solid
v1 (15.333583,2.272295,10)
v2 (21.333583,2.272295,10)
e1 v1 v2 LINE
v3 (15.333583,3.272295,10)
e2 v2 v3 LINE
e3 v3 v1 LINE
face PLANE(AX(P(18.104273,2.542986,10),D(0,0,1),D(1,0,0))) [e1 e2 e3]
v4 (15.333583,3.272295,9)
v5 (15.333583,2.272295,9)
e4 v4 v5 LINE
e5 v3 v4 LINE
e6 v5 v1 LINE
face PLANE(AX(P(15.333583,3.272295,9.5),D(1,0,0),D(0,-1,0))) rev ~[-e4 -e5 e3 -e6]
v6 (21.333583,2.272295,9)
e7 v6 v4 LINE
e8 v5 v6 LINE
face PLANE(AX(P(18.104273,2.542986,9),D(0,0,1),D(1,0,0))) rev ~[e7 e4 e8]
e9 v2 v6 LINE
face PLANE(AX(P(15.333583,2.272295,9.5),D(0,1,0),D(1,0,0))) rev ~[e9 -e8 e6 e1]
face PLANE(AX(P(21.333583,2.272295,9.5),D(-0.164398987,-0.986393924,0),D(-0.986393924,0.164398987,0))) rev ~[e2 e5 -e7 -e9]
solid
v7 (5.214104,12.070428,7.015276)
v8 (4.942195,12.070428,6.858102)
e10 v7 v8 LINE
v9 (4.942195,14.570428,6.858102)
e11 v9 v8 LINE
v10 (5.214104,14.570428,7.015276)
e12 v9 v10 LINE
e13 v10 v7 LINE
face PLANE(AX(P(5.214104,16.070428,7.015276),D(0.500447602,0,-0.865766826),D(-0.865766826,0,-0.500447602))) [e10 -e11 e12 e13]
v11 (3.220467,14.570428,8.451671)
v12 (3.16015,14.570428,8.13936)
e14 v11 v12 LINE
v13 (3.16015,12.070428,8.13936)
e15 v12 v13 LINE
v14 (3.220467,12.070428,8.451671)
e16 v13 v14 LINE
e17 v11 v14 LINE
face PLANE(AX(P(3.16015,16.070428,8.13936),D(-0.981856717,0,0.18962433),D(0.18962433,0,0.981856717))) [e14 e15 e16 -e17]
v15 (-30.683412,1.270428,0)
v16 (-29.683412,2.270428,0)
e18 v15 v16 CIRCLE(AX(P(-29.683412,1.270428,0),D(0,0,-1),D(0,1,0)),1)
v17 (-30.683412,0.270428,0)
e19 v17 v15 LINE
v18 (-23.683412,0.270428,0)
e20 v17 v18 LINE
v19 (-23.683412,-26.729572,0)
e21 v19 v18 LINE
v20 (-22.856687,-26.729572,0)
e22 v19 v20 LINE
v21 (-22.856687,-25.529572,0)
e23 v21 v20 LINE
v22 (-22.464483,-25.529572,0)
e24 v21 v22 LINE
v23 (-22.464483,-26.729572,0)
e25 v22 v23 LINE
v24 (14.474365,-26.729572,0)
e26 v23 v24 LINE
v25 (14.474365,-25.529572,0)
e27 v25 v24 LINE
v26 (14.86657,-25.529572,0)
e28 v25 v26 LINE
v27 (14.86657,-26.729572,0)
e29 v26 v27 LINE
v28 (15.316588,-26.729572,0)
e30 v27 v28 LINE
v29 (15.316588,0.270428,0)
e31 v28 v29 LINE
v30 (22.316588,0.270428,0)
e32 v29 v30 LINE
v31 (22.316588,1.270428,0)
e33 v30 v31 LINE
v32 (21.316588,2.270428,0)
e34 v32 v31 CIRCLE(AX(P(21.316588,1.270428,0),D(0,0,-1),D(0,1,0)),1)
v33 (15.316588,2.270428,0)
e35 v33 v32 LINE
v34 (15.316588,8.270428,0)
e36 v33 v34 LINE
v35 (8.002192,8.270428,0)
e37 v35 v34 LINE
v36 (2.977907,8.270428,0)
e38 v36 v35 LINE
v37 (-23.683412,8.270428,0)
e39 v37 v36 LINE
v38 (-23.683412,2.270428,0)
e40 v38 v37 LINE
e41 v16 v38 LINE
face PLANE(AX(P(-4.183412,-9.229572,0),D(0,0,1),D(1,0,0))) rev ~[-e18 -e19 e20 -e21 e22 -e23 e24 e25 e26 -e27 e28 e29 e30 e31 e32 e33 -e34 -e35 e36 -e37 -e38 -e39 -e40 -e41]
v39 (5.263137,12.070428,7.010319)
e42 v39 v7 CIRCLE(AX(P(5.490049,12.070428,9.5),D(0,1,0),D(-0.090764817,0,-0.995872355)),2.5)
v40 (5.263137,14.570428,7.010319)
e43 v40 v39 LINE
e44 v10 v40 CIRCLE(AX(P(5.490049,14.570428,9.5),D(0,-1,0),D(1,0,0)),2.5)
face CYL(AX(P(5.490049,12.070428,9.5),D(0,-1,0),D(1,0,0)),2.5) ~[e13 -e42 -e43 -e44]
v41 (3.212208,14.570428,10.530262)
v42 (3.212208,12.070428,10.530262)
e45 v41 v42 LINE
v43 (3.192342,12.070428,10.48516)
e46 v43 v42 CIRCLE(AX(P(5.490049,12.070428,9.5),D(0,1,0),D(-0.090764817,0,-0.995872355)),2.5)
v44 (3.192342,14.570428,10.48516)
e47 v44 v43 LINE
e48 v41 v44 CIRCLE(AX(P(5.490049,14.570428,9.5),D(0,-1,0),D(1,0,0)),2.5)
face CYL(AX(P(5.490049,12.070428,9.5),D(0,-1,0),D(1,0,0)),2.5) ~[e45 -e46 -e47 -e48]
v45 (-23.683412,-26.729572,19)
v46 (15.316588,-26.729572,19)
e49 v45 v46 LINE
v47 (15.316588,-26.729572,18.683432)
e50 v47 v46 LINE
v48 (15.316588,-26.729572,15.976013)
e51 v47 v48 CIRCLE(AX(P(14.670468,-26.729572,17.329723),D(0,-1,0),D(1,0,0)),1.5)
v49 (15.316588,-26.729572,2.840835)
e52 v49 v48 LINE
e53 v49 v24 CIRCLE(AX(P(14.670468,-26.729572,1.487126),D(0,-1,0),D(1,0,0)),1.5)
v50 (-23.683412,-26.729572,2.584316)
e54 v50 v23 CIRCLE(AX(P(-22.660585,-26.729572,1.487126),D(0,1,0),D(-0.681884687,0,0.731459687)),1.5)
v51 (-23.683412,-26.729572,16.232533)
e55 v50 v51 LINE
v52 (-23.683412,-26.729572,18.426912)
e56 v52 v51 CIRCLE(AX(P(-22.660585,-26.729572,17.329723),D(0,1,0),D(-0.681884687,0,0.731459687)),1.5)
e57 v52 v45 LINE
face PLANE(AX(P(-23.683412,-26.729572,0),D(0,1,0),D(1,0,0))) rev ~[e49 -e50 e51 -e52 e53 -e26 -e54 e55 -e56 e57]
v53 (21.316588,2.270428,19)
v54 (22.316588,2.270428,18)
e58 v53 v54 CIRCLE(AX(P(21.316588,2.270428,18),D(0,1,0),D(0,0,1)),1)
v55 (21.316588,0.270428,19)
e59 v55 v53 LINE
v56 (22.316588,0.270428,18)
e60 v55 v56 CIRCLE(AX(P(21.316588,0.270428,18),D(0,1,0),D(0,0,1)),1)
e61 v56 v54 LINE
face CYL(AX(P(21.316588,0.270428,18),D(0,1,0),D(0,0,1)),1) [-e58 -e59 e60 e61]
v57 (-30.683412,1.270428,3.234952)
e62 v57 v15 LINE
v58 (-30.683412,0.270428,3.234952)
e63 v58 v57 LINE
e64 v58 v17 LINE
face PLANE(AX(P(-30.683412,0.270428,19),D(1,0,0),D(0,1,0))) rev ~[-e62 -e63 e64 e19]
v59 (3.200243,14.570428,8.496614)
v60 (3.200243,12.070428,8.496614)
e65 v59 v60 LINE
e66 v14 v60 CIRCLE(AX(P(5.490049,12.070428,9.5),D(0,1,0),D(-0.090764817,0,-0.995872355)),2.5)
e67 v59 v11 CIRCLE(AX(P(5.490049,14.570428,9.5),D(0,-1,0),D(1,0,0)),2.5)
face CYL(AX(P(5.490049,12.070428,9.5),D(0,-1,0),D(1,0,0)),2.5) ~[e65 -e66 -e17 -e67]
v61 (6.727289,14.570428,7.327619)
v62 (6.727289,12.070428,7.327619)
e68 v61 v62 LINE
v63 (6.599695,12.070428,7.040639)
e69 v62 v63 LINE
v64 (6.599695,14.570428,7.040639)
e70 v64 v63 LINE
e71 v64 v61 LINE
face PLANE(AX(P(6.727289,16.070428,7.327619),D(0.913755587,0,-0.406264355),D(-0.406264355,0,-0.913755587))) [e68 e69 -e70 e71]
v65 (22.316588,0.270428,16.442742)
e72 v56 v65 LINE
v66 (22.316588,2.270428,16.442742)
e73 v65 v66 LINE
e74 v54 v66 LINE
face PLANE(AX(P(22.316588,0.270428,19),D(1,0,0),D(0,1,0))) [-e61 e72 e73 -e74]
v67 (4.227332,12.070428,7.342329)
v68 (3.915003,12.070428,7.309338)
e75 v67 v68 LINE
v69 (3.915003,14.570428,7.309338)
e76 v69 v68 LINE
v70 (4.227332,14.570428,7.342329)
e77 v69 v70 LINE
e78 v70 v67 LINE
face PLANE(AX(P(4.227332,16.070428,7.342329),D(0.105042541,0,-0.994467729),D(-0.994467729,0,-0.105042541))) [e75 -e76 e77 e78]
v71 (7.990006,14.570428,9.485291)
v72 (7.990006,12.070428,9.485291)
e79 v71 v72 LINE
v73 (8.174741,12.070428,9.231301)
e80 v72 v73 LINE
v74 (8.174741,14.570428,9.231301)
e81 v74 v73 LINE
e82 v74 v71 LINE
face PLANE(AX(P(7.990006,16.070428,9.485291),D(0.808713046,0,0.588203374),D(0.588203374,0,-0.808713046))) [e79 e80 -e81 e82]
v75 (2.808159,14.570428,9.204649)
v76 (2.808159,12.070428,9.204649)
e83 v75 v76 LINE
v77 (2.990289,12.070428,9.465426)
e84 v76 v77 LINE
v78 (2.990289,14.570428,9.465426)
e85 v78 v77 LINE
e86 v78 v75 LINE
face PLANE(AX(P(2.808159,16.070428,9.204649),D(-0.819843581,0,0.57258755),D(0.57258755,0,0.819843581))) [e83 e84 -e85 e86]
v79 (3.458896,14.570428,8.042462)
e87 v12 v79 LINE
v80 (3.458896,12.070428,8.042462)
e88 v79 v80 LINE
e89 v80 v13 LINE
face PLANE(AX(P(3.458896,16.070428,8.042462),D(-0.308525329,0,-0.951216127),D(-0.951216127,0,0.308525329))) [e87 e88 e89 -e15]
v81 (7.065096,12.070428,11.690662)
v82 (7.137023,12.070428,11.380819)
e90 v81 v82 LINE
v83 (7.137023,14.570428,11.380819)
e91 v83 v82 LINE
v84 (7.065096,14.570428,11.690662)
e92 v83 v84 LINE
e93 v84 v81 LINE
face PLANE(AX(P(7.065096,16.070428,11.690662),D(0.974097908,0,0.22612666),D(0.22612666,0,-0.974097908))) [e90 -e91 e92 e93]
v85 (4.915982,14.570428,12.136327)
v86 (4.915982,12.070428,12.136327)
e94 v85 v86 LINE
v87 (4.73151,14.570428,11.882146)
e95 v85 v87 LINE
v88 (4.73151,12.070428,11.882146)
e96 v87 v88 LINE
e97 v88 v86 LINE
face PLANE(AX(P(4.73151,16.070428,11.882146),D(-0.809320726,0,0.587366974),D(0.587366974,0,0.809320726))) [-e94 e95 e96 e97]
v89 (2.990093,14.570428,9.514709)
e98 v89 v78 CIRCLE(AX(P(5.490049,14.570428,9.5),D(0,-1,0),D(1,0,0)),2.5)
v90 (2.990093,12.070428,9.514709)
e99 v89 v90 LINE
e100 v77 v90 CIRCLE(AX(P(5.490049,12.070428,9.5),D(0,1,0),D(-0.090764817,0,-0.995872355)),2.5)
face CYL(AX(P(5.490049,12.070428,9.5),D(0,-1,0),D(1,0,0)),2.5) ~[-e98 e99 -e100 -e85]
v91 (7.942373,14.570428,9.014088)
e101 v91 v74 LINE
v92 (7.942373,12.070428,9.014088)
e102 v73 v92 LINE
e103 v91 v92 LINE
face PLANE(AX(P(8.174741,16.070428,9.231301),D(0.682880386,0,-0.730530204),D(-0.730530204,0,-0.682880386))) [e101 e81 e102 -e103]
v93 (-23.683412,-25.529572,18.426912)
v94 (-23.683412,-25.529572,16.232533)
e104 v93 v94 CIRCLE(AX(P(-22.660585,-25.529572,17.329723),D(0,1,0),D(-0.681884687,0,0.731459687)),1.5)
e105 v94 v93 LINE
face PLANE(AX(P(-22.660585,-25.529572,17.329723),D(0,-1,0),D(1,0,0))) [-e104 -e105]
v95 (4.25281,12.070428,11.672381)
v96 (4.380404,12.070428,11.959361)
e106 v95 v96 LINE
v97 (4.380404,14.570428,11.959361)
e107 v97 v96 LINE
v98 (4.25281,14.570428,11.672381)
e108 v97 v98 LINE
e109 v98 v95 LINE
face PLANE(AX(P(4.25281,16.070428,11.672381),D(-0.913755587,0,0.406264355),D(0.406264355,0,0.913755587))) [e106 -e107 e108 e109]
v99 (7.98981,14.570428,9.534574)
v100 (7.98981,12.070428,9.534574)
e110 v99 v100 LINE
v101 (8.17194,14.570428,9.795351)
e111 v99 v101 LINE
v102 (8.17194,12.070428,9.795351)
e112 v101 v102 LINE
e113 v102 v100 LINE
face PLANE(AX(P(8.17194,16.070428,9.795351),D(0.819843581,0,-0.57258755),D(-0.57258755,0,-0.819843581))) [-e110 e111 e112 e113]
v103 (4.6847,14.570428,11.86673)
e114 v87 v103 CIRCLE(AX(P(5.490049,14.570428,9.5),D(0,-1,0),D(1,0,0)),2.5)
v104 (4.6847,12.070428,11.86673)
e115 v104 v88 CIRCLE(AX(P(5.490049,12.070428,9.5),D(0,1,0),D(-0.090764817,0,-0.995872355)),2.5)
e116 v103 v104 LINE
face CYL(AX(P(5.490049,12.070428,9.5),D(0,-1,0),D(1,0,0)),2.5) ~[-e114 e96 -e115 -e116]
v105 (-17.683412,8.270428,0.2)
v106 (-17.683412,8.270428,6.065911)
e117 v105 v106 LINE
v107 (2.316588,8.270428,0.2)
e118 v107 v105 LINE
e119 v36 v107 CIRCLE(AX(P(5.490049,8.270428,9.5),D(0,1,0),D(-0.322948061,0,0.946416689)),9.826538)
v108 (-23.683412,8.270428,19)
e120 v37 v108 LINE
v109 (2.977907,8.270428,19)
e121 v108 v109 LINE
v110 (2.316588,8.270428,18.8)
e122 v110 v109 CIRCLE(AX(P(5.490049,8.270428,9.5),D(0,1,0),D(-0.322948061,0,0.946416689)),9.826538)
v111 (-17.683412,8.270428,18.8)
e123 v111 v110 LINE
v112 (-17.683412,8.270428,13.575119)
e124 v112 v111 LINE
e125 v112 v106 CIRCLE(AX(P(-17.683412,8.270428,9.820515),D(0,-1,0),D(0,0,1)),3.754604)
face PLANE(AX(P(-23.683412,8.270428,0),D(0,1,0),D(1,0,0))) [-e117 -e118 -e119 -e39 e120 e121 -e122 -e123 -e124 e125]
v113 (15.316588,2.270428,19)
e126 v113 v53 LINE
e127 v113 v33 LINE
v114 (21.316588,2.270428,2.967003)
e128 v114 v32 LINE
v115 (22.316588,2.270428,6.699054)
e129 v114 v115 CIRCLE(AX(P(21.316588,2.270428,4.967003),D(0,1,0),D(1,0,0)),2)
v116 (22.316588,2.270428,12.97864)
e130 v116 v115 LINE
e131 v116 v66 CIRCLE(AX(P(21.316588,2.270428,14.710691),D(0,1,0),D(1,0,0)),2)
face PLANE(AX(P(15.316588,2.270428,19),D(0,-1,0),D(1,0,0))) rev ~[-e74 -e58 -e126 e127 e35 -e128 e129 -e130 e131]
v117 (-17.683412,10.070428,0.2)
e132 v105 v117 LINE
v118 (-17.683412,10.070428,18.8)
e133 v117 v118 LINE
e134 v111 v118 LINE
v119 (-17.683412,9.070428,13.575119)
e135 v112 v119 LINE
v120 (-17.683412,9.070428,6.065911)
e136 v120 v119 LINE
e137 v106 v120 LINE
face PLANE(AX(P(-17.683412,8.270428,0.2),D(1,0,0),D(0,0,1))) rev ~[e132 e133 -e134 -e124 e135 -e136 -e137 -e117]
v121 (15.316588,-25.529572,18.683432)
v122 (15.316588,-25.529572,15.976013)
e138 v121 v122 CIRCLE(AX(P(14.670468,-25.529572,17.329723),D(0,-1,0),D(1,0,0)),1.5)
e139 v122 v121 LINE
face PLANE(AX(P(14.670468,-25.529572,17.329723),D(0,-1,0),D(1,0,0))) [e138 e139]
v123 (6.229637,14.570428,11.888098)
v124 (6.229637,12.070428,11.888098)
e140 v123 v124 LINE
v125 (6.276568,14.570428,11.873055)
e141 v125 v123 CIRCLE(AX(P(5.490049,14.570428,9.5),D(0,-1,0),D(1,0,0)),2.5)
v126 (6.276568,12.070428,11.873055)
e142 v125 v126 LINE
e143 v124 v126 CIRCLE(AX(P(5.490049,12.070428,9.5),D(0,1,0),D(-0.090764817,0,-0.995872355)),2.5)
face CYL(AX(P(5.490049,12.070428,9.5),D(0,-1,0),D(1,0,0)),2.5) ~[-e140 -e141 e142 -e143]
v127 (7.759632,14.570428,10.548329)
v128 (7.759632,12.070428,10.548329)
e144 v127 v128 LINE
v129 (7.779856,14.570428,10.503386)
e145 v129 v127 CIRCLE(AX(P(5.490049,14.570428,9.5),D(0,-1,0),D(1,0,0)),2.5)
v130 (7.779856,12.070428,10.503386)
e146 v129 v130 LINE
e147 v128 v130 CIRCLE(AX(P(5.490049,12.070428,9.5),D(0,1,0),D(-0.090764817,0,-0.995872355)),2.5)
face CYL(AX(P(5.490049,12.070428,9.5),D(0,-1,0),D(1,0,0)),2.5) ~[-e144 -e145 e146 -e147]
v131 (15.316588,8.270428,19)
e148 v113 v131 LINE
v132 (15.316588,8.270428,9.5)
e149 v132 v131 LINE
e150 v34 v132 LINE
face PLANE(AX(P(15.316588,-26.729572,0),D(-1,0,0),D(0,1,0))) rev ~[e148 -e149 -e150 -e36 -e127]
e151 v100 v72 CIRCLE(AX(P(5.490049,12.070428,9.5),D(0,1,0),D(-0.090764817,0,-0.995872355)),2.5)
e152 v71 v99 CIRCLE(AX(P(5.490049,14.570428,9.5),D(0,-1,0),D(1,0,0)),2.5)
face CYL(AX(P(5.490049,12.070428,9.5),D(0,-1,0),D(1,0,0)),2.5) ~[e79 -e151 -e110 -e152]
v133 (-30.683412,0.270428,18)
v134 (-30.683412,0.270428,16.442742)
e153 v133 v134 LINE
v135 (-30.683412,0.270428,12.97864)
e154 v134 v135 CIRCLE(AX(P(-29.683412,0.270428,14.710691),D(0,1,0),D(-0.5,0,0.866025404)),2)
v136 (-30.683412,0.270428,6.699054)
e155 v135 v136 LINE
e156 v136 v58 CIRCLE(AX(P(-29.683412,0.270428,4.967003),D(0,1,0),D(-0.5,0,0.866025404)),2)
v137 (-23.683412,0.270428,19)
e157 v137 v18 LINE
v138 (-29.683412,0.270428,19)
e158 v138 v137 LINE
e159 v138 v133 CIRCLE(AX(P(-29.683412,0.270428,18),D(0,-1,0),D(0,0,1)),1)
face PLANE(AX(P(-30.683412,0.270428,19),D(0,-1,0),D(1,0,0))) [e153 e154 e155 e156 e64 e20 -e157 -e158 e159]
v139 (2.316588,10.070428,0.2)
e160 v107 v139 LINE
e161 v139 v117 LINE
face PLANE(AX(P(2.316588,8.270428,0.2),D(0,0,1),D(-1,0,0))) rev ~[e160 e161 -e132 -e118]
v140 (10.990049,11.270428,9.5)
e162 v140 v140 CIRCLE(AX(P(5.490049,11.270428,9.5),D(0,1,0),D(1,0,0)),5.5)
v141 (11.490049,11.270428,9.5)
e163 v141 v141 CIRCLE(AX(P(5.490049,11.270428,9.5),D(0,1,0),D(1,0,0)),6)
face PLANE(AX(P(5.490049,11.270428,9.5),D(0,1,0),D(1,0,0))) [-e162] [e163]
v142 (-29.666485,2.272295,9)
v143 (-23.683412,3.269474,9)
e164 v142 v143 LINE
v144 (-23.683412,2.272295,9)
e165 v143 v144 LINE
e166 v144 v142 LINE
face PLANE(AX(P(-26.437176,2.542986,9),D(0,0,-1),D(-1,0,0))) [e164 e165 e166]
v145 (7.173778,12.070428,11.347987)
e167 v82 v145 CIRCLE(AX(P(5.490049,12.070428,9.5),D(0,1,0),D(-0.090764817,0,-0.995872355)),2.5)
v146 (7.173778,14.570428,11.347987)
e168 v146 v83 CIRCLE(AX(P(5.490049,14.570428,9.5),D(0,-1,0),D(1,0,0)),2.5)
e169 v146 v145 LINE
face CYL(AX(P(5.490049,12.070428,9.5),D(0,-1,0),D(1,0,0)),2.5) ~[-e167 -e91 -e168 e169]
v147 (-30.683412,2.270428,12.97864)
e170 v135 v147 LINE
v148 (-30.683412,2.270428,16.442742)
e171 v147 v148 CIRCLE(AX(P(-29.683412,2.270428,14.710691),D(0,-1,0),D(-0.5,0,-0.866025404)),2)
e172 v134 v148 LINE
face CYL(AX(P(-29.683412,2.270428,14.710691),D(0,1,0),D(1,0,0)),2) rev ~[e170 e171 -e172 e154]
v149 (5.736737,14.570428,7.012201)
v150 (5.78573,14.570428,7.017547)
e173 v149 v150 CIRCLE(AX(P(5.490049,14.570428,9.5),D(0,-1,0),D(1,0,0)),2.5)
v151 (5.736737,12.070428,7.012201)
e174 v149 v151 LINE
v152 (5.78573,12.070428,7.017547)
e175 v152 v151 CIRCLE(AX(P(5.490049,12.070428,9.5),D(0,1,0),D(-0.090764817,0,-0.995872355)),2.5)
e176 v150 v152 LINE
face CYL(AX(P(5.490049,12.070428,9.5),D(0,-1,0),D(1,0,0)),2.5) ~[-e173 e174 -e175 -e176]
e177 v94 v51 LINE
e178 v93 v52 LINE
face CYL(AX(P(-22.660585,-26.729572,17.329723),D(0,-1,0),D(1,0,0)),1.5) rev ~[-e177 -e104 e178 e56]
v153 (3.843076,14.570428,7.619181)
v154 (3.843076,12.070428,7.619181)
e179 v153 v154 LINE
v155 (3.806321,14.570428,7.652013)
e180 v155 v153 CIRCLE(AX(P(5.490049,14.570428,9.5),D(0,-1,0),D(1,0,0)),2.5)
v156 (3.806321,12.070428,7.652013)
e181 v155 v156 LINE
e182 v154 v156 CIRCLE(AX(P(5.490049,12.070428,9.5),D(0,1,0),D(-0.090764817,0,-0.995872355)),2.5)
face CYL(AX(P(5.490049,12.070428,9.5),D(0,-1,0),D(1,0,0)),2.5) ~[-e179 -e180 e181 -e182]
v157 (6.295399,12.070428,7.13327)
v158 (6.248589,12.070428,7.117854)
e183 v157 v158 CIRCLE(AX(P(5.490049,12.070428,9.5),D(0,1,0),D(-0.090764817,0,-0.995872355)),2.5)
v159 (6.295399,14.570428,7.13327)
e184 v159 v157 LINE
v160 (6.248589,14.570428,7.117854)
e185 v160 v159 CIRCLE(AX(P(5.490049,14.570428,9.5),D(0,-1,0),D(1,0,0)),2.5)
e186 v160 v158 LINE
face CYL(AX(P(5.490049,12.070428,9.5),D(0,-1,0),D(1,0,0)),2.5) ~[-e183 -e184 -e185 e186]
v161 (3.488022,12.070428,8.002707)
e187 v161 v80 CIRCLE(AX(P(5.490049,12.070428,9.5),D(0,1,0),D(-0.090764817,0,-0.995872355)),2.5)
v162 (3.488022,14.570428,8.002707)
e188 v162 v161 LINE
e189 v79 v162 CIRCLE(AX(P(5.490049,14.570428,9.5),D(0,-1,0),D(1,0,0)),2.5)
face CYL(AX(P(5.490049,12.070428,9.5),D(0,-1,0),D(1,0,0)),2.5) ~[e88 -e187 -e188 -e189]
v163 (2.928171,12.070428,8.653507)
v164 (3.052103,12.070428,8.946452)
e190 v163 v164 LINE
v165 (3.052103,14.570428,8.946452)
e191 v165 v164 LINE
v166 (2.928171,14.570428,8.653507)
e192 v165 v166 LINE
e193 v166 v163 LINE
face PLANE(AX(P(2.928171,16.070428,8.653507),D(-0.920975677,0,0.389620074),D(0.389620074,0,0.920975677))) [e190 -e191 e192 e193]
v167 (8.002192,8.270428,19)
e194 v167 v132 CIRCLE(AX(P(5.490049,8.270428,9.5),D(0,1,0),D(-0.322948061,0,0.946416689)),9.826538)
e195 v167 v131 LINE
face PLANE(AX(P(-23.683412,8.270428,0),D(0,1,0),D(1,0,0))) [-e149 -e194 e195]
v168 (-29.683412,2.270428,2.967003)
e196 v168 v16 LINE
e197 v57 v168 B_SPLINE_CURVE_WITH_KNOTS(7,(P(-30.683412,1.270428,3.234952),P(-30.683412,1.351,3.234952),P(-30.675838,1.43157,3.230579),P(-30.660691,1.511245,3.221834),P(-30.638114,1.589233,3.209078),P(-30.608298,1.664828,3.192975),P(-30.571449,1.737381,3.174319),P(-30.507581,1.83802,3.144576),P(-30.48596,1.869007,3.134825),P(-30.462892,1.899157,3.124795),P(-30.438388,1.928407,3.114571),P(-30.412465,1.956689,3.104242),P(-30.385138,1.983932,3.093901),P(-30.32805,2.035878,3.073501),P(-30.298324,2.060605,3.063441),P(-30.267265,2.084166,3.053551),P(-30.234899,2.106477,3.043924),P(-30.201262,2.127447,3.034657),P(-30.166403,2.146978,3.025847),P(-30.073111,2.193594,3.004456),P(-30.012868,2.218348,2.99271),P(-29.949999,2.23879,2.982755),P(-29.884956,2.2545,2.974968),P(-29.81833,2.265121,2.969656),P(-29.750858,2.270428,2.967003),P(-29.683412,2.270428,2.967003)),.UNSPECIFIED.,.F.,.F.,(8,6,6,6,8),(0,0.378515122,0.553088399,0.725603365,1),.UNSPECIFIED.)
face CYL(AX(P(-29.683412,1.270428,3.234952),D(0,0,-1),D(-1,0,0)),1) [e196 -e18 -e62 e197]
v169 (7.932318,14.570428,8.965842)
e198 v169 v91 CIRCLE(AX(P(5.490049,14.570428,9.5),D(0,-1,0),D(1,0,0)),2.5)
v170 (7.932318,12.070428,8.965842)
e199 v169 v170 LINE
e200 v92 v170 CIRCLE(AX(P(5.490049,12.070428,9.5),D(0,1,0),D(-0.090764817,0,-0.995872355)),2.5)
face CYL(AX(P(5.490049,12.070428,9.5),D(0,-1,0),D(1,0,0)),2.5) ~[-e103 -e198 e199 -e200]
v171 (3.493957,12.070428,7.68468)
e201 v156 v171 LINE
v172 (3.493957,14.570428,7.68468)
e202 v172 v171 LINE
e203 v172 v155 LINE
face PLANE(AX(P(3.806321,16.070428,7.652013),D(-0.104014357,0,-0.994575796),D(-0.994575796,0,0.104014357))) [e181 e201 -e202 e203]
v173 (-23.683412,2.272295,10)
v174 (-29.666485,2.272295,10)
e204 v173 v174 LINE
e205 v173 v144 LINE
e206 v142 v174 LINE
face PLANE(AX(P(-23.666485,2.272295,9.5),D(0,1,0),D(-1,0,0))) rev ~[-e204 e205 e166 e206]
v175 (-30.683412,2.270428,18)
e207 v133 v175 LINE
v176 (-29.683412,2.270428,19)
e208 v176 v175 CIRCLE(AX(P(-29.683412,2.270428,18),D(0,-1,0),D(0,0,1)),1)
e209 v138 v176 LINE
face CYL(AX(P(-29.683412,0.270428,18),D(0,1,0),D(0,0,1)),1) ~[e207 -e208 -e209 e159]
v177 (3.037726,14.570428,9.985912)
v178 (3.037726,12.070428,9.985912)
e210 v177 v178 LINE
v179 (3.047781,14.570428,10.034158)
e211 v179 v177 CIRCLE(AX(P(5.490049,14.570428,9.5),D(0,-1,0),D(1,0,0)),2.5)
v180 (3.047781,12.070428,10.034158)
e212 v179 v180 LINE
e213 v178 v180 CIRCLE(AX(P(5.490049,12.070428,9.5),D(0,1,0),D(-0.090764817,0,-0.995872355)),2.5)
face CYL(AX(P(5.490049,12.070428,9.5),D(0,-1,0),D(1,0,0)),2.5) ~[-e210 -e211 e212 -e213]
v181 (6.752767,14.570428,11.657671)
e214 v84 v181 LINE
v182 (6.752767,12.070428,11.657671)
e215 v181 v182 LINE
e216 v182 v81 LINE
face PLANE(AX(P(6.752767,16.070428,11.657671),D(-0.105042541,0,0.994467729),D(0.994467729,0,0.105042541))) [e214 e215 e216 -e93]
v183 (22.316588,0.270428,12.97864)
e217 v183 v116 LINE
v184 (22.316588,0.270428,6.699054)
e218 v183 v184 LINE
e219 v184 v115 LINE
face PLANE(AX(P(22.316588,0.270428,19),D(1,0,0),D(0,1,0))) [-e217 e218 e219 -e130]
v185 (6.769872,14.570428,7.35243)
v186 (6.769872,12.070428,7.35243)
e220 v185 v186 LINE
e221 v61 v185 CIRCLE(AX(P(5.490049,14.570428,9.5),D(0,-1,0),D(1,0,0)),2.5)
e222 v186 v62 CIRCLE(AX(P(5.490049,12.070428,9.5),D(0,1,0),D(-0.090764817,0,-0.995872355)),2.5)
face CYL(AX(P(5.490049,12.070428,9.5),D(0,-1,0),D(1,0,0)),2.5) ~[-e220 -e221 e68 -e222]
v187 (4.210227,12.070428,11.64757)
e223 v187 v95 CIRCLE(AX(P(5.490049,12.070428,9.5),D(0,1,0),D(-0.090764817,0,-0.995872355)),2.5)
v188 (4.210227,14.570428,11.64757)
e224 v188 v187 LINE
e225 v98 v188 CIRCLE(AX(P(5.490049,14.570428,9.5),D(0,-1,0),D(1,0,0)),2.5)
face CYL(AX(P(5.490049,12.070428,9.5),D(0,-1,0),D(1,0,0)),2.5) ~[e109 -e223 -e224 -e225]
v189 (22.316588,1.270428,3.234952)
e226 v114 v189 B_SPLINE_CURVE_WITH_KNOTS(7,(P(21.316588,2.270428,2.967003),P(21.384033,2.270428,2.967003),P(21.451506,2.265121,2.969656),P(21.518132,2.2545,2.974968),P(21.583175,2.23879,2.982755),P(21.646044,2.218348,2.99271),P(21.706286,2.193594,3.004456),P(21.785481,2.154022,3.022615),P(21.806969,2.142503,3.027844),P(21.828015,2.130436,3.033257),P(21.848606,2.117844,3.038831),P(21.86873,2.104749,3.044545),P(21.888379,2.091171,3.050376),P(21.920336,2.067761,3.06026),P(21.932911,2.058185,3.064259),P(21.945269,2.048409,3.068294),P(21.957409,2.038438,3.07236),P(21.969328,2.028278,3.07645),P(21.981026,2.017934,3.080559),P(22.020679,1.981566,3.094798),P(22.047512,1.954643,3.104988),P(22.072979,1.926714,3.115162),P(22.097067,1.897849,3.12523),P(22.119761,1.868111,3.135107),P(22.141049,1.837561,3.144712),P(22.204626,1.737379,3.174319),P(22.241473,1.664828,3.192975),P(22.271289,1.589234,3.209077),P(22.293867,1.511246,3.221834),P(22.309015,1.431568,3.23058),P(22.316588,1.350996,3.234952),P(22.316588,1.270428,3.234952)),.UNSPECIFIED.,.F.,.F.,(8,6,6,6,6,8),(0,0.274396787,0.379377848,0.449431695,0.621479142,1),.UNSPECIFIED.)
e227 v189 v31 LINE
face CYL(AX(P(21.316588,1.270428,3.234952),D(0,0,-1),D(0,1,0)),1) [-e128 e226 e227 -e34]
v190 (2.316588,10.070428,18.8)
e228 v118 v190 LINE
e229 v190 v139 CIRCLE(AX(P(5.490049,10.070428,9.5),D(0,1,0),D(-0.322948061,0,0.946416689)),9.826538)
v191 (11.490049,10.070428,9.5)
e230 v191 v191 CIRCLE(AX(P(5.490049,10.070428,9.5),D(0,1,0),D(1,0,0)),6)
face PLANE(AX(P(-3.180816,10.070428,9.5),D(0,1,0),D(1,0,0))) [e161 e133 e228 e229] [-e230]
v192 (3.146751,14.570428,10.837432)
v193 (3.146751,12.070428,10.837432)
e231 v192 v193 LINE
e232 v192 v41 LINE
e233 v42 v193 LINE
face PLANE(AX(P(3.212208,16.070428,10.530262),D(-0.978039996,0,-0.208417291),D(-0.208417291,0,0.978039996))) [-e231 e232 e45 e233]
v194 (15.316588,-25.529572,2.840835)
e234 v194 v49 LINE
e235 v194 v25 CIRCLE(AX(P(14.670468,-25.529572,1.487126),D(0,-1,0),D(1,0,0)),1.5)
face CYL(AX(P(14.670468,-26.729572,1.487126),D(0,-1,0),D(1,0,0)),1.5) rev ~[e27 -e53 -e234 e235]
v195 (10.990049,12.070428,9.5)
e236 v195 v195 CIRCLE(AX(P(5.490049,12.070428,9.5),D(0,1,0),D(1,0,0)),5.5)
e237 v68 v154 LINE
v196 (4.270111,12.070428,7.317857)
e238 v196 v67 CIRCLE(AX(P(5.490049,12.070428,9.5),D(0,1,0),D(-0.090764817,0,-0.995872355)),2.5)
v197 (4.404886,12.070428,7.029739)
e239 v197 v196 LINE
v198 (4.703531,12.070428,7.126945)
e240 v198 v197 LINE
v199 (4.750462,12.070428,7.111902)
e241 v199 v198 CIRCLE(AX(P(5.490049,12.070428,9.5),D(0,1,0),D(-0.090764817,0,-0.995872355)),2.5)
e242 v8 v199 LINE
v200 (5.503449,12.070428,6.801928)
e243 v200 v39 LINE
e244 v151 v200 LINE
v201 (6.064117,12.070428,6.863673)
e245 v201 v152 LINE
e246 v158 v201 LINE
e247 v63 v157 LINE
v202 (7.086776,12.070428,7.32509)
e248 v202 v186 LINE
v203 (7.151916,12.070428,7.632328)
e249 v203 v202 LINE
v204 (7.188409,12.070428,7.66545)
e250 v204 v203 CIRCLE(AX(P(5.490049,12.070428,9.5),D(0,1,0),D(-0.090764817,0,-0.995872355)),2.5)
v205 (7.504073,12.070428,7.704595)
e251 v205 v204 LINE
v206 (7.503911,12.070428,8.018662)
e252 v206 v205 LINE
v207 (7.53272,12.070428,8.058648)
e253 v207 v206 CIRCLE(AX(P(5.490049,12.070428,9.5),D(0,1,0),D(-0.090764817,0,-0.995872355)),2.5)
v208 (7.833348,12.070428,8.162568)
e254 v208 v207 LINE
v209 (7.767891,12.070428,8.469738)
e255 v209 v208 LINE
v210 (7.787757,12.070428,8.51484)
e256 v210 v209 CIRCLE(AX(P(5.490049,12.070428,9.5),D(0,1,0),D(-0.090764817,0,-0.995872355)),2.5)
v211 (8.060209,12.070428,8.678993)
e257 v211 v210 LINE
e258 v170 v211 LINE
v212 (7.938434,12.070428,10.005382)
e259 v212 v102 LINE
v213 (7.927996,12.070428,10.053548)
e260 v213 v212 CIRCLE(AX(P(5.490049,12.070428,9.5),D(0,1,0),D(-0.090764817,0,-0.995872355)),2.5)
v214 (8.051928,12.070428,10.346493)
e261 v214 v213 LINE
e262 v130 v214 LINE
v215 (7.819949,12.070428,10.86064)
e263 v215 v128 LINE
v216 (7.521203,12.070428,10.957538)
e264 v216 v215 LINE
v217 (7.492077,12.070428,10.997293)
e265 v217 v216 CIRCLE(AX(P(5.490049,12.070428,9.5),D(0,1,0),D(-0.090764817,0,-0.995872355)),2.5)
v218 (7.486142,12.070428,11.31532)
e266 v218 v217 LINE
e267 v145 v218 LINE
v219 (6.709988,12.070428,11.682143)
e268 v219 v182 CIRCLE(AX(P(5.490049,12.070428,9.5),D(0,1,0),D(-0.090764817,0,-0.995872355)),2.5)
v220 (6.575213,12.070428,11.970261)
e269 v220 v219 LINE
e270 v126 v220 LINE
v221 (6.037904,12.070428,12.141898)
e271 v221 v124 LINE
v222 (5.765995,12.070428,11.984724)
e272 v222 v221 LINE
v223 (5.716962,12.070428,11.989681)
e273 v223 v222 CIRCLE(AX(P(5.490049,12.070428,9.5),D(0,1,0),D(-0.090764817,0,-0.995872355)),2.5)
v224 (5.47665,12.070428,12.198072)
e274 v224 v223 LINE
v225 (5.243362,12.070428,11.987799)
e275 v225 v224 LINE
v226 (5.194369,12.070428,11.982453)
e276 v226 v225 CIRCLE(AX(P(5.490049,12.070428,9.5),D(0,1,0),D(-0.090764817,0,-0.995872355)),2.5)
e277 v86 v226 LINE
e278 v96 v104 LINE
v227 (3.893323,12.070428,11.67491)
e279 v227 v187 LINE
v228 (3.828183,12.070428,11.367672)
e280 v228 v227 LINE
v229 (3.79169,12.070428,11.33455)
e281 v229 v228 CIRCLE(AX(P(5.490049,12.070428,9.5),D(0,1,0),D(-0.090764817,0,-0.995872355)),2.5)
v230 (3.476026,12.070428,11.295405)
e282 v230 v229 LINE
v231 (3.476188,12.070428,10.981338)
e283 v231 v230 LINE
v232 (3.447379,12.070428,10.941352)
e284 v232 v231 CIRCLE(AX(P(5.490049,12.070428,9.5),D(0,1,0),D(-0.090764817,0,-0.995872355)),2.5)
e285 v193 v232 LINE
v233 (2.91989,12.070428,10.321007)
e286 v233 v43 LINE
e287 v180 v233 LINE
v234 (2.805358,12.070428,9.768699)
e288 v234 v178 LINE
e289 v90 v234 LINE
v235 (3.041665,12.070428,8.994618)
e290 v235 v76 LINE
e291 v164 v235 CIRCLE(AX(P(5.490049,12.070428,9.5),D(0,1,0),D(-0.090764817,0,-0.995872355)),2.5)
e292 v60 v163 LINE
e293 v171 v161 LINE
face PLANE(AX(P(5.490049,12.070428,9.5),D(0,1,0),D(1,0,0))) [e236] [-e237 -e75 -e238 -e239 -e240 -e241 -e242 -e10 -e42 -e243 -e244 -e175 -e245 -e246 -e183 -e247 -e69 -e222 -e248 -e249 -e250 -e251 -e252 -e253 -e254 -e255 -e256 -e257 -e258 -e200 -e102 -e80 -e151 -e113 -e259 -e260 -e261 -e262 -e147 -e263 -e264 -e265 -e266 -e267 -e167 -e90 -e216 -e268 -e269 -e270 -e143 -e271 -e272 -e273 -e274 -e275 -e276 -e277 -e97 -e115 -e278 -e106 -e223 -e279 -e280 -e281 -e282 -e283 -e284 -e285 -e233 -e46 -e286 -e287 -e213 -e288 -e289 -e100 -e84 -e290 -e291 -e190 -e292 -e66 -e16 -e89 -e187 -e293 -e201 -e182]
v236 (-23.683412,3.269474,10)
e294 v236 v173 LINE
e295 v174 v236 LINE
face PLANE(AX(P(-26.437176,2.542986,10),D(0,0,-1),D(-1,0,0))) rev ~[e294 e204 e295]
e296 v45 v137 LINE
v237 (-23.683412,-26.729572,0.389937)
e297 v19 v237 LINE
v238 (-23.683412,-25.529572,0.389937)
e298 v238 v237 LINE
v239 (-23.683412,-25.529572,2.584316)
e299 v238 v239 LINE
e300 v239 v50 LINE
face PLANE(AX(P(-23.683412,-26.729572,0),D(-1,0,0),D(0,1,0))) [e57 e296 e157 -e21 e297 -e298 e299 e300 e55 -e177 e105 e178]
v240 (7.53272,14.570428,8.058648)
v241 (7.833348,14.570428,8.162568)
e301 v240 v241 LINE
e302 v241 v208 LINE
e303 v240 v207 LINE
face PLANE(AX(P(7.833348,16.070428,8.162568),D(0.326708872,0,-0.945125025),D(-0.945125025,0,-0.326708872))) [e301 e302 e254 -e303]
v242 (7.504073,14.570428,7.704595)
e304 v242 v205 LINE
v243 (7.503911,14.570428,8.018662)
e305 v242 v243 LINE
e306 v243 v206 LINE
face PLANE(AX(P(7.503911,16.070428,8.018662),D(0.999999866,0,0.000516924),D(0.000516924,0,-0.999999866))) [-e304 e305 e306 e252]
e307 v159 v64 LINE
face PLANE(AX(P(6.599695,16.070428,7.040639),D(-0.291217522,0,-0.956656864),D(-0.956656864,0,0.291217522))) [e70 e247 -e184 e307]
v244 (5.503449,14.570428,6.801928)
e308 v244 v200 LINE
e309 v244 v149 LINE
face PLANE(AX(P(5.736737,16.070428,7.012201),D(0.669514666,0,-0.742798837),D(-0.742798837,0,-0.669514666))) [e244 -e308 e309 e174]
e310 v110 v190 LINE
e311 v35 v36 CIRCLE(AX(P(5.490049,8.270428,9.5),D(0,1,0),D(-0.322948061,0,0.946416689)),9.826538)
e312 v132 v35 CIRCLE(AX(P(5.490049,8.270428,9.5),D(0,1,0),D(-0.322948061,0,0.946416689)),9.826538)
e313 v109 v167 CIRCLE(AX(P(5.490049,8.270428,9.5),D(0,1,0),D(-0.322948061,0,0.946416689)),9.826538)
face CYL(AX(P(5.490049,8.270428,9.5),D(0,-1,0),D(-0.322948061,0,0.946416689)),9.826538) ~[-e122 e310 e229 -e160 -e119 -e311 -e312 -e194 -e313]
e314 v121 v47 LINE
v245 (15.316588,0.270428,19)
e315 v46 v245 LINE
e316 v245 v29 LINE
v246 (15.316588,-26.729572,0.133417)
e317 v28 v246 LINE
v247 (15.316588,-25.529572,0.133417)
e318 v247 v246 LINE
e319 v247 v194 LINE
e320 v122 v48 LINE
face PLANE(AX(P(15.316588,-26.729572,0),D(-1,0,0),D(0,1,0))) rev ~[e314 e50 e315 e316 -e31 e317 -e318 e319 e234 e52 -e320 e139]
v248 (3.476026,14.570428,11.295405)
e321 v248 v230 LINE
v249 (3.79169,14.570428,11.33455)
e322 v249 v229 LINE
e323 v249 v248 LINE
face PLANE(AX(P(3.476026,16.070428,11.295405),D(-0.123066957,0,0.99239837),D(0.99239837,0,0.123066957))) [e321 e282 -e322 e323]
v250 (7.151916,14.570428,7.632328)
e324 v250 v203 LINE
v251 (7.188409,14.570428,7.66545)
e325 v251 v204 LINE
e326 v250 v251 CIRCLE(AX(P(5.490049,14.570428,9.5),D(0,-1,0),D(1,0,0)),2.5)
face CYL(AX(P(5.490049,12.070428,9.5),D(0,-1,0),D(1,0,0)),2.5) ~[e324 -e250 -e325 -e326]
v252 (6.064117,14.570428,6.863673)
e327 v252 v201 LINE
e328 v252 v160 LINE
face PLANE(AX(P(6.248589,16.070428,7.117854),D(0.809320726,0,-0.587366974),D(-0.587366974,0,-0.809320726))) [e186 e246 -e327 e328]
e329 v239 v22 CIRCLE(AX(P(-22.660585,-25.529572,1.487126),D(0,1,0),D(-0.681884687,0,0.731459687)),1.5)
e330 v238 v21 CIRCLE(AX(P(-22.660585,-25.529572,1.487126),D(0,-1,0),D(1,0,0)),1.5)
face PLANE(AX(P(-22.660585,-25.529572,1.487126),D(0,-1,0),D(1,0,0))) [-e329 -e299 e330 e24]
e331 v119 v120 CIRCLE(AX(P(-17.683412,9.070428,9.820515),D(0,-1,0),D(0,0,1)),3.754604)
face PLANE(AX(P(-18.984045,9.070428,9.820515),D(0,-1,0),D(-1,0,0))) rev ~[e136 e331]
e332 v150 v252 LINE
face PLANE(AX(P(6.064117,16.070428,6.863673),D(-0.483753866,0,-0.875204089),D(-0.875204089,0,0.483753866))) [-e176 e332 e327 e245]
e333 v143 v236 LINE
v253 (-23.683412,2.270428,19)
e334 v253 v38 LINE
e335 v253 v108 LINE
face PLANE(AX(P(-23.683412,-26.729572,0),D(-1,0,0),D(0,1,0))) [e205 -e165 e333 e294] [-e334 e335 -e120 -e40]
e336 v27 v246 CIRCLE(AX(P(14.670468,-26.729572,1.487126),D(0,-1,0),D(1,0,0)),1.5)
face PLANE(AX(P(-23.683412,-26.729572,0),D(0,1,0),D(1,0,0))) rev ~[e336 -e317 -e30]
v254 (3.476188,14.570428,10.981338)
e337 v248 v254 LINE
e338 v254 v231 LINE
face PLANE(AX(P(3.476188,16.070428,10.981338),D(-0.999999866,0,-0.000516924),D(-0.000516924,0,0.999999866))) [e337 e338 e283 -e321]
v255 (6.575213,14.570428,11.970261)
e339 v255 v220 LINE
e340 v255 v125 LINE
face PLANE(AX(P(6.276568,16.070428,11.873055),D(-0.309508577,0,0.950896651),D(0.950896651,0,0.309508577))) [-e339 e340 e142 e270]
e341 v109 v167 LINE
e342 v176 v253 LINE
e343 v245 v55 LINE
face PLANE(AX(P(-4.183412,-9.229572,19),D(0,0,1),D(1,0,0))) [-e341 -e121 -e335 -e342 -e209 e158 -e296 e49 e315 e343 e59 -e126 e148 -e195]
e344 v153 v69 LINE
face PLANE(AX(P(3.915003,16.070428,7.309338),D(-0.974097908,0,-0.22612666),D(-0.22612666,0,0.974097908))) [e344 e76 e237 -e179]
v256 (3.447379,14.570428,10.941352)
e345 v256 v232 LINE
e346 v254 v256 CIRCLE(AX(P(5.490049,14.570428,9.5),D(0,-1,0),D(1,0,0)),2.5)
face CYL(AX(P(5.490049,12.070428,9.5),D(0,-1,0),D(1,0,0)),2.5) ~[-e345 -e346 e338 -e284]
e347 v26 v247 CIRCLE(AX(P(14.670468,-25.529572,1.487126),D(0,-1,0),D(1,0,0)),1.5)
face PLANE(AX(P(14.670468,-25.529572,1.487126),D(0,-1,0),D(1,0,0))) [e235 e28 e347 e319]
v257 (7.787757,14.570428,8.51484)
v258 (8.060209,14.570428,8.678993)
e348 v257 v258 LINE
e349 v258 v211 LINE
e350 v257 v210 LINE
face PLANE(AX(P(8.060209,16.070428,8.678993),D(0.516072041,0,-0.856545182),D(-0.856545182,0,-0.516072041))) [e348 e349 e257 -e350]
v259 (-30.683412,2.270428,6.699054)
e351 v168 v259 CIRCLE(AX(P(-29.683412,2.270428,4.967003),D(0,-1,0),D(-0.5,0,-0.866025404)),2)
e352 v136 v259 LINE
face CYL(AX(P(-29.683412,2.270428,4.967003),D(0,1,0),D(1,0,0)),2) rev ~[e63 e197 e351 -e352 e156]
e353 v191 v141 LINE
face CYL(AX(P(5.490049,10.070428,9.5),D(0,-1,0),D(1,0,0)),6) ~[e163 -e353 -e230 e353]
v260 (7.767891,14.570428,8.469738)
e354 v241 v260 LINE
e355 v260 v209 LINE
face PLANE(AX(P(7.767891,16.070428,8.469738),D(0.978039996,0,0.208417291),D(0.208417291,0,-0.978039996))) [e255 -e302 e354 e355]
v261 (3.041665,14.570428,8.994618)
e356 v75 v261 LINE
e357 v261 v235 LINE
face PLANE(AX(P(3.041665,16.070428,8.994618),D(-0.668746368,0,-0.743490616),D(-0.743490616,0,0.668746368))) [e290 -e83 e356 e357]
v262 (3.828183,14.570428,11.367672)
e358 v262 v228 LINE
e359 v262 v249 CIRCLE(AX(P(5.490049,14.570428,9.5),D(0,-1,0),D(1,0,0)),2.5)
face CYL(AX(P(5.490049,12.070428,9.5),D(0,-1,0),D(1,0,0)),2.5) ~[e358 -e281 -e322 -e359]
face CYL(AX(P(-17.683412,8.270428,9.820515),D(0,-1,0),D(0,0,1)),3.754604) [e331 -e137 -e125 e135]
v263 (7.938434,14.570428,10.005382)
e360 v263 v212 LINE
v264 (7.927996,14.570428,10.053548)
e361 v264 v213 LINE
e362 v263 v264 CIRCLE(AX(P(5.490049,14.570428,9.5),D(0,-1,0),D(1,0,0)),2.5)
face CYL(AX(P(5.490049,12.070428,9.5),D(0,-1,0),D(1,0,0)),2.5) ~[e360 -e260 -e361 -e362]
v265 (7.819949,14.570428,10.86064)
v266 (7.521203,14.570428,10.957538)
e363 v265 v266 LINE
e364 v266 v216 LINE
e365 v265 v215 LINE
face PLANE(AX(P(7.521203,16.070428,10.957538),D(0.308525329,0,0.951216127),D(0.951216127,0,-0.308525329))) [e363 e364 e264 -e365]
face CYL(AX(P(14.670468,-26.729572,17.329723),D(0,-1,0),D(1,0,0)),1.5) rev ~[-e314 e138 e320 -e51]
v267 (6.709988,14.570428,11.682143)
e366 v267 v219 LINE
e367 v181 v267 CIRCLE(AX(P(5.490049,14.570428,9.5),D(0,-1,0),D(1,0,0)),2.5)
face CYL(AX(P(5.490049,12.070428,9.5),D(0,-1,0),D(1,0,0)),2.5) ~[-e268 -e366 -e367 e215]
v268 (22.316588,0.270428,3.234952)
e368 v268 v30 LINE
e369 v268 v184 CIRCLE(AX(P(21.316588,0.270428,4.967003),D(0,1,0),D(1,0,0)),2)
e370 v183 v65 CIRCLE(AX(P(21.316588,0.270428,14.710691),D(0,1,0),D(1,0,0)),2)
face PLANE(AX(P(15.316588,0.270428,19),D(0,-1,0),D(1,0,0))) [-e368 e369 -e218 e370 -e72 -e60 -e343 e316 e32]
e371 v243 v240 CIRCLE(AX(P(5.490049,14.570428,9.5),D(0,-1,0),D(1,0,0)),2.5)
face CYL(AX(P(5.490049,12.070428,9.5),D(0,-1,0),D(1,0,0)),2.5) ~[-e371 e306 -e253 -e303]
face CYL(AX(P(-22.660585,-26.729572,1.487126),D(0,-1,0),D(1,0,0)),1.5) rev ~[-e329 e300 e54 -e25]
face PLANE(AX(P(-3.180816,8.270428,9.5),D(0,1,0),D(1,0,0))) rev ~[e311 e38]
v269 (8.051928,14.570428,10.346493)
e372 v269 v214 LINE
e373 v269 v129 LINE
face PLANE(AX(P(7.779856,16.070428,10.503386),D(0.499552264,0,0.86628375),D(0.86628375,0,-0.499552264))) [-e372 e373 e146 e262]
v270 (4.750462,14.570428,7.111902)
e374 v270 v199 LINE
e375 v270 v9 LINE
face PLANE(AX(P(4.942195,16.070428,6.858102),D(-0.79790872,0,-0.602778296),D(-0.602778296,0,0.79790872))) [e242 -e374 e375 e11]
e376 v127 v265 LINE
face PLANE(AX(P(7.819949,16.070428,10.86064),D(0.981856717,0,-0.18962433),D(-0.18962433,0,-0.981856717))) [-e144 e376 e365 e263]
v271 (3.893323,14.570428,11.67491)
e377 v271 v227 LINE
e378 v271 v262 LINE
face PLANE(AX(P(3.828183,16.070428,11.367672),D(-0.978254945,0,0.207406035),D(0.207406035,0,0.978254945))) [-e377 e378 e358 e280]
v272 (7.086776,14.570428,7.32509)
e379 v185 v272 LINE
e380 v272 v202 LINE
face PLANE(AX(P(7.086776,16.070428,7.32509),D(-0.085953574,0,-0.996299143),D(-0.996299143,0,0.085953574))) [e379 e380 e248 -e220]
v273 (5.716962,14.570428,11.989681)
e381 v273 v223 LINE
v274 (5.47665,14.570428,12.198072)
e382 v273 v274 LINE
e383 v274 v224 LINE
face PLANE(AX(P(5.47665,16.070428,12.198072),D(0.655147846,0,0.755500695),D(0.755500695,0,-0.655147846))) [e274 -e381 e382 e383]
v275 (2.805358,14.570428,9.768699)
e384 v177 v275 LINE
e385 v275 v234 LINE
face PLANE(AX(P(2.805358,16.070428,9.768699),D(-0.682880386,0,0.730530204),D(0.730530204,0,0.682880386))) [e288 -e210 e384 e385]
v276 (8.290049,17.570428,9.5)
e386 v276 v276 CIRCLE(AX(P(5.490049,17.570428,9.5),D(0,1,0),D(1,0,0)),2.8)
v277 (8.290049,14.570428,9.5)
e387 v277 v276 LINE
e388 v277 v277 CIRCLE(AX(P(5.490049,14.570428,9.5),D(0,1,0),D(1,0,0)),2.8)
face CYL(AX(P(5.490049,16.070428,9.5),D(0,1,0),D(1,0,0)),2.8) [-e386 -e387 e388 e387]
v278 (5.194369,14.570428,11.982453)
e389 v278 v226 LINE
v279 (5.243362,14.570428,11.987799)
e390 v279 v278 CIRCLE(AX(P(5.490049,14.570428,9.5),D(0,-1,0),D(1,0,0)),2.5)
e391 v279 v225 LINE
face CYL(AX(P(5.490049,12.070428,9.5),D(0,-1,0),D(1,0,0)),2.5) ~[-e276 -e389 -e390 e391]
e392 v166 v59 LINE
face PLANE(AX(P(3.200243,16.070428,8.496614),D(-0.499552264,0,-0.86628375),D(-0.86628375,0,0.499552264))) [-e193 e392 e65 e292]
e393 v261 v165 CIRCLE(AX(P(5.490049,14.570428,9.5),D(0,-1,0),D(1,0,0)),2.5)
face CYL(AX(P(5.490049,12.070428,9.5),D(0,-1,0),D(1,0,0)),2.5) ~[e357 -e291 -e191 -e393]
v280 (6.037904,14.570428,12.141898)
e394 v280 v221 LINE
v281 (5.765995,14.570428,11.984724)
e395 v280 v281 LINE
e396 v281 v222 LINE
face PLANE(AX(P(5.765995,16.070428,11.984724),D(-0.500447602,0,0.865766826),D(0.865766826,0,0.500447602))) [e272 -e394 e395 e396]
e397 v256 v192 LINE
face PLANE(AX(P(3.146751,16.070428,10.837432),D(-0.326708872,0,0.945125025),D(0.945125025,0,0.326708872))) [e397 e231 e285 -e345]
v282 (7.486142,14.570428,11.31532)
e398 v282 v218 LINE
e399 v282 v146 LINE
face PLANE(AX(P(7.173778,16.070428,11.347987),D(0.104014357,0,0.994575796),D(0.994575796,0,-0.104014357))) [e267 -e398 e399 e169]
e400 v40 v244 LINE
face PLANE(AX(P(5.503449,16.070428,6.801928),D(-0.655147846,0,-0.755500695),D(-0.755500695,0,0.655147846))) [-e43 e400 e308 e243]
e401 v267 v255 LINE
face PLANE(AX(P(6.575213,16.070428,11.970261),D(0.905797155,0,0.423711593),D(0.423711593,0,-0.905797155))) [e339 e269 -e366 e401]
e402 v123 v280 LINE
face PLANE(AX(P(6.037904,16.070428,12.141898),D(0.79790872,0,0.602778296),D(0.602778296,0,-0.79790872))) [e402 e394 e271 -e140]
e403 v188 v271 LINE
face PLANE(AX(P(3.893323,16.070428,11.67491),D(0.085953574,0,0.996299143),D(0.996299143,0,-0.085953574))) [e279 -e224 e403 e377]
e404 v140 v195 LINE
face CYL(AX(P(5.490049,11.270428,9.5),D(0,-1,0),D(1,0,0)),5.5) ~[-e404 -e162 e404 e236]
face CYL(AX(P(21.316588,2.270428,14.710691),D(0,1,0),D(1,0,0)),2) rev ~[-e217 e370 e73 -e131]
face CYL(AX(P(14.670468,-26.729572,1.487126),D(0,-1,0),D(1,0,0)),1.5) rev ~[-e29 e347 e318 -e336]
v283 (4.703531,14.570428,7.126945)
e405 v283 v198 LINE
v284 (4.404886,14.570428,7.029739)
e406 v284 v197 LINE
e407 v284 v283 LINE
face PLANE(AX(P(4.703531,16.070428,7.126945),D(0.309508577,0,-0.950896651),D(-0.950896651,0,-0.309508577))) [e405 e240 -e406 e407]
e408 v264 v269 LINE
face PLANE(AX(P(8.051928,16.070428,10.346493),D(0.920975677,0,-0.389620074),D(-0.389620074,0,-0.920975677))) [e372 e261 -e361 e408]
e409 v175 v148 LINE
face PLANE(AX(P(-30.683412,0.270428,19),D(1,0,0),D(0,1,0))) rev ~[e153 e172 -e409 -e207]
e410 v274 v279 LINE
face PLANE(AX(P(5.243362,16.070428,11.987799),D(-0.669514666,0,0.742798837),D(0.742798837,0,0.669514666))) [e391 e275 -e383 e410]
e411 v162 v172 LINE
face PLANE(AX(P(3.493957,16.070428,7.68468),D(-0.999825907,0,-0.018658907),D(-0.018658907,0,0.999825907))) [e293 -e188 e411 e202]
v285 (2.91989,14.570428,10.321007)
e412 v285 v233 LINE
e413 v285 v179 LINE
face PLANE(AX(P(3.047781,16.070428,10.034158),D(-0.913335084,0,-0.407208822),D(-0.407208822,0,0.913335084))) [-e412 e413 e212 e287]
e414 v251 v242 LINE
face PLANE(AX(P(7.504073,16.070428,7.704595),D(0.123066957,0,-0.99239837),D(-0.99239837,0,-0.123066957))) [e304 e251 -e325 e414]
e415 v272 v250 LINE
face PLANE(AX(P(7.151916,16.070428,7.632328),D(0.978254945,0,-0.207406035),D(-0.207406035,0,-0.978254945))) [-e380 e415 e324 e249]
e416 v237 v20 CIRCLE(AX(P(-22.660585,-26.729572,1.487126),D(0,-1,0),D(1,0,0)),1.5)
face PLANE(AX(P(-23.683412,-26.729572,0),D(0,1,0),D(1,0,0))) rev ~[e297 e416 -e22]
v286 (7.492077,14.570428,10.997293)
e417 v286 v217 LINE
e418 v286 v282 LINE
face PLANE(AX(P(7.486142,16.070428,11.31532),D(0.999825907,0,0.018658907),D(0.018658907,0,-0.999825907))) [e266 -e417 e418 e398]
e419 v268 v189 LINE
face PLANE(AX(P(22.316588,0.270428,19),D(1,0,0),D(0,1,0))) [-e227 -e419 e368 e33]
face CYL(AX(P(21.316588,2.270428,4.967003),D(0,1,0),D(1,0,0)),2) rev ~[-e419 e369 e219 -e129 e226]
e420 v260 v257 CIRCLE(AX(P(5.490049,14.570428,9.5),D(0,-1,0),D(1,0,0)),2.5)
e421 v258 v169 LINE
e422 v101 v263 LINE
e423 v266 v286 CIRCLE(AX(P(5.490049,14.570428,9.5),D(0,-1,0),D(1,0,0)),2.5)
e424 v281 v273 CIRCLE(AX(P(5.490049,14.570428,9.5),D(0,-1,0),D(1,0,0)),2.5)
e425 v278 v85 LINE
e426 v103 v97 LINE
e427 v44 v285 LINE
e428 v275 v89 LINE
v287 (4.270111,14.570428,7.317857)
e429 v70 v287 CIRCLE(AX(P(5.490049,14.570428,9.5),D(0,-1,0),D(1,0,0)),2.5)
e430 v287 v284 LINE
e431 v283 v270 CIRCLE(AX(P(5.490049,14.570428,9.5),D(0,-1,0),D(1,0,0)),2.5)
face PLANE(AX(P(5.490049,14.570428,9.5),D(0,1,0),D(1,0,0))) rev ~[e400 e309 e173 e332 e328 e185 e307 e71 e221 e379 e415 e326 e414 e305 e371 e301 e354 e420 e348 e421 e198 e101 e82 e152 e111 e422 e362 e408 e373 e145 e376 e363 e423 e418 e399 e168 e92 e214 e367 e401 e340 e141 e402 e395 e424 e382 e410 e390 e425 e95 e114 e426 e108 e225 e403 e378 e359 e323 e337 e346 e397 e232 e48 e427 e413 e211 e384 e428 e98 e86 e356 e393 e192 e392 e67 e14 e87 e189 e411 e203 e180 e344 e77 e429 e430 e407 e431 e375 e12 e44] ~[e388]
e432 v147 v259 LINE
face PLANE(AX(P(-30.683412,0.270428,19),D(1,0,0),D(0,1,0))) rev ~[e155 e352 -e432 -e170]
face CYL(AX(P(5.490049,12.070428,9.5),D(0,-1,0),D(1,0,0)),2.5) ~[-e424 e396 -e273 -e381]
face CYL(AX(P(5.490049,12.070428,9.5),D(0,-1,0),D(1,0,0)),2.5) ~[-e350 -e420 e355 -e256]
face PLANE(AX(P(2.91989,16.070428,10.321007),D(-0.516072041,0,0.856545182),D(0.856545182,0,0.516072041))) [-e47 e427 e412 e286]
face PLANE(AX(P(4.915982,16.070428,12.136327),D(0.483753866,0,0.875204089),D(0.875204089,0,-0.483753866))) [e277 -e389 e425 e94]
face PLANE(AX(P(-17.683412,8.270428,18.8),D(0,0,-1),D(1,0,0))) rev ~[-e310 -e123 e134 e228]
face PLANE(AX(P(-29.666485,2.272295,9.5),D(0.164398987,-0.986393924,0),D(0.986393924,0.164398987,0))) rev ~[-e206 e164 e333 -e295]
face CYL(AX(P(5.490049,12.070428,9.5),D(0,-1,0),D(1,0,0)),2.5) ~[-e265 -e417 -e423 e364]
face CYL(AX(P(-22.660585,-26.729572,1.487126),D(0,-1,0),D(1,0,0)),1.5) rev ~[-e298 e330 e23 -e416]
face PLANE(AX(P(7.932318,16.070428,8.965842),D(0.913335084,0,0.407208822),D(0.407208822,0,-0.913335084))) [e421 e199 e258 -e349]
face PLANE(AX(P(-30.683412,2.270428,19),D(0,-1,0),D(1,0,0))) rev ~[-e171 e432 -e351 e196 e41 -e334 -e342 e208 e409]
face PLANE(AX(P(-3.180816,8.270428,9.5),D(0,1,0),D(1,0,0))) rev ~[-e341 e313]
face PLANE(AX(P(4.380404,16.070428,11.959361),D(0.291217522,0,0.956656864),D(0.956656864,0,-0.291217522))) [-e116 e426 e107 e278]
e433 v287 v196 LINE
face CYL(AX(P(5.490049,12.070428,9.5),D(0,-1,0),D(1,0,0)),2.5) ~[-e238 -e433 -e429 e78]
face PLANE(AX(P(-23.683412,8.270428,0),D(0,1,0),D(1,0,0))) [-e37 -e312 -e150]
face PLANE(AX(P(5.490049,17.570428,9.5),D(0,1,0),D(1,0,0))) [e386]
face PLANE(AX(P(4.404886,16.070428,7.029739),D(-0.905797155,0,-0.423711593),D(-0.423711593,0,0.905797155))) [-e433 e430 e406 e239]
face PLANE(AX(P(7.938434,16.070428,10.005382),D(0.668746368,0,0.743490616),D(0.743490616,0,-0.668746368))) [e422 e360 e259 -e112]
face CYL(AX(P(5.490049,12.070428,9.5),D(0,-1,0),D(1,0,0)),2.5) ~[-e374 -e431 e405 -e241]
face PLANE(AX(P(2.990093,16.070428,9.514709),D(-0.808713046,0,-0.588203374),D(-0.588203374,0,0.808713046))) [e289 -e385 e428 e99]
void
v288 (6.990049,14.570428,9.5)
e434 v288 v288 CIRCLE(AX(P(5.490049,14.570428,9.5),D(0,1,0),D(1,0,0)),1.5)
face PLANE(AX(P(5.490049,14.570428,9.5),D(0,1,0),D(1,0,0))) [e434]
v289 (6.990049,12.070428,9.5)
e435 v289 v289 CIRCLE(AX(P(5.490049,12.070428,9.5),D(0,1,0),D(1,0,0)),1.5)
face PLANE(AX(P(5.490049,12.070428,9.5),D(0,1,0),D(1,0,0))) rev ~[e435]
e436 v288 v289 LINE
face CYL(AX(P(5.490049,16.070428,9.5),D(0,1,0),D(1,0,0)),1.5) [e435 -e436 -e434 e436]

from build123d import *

# Parameters (mm, degrees)
SKETCH1_W            = 39
SKETCH1_H            = 35
BOSS_EXTRUDE1_DEPTH  = 19
SKETCH2_W            = 7
SKETCH2_H            = 2
BOSS_EXTRUDE2_DEPTH  = 19
BOSS_EXTRUDE3_DEPTH  = 0.5
SKETCH4_R            = 2
CUT_EXTRUDE1_DEPTH   = 3
FILLET1_R            = 1
BOSS_EXTRUDE4_DEPTH  = 1.8
SKETCH6_R            = 1.5
CUT_EXTRUDE2_DEPTH   = 1.2
SKETCH7_R            = 6
BOSS_EXTRUDE5_DEPTH  = 1.2
SKETCH8_R            = 5.5
BOSS_EXTRUDE6_DEPTH  = 0.8
BOSS_EXTRUDE7_DEPTH  = 0.8
SKETCH10_R           = 2.5
BOSS_EXTRUDE8_DEPTH  = 4
BOSS_EXTRUDE9_DEPTH  = 4
CIRPATTERN2_COUNT    = 30
SKETCH12_R           = 1.5
CUT_EXTRUDE4_DEPTH   = 4
SKETCH13_R           = 2.8
BOSS_EXTRUDE10_DEPTH = 1.5


with BuildPart() as part:
    # Sketch1 → Boss-Extrude1 (new body)
    with BuildSketch(Plane.XY):
        with Locations((-4.183412042, -9.229571984)):
            Rectangle(SKETCH1_W, SKETCH1_H)
    extrude(amount=BOSS_EXTRUDE1_DEPTH)

    # Sketch2 → Boss-Extrude2 (add)
    with BuildSketch(Plane.XY.offset(19)):
        with Locations((18.816587958, 1.270428016)):
            Rectangle(SKETCH2_W, SKETCH2_H)
        with Locations((-27.183412042, 1.270428016)):
            Rectangle(SKETCH2_W, SKETCH2_H)
    extrude(amount=-BOSS_EXTRUDE2_DEPTH)

    # Sketch3 → Boss-Extrude3 (add, symmetric)
    with BuildSketch(Plane.XY.offset(9.5)):
        Polygon((15.333582704, 3.272295291), (15.333582704, 2.272295291), (21.333582704, 2.272295291), align=None)
        Polygon((-29.666485395, 2.272295291), (-23.666485395, 3.272295291), (-23.666485395, 2.272295291), align=None)
    extrude(amount=BOSS_EXTRUDE3_DEPTH, both=True)

    # Sketch4 → Cut-Extrude1 (cut)
    with BuildSketch(Plane(origin=(0, 2.270428016, 0), x_dir=(1, 0, 0), z_dir=(0, 1, 0))):
        with Locations((21.316587958, -14.710690781)):
            Circle(SKETCH4_R)
        with Locations((21.316587958, -4.967002747)):
            Circle(SKETCH4_R)
        with Locations((-29.683412042, -14.710690781)):
            Circle(SKETCH4_R)
        with Locations((-29.683412042, -4.967002747)):
            Circle(SKETCH4_R)
    extrude(amount=-CUT_EXTRUDE1_DEPTH, mode=Mode.SUBTRACT)

    # Fillet1
    fillet1_edges = [part.edges().sort_by_distance(p)[0] for p in [
        (-30.683412042, 1.270428016, 19),
        (-30.683412042, 2.270428016, 1.61747597),
        (22.316587958, 2.270428016, 1.61747597),
        (22.316587958, 1.270428016, 19),
    ]]
    fillet(fillet1_edges, radius=FILLET1_R)

    # Sketch5 → Boss-Extrude4 (add)
    with BuildSketch(Plane(origin=(0, 8.270428016, 0), x_dir=(1, 0, 0), z_dir=(0, 1, 0))):
        with BuildLine():
            Line((-17.683412042, -0.2), (-17.683412042, -18.8))
            Line((-17.683412042, -18.8), (2.316587958, -18.8))
            ThreePointArc((2.316587958, -18.8), (15.316587958, -9.5), (2.316587958, -0.2))
            Line((2.316587958, -0.2), (-17.683412042, -0.2))
        make_face()
    extrude(amount=BOSS_EXTRUDE4_DEPTH)

    # Sketch6 → Cut-Extrude2 (cut)
    with BuildSketch(Plane.XZ.offset(26.729571984)):
        with Locations((-22.660585011, 17.329722527)):
            Circle(SKETCH6_R)
        with Locations((-22.660585011, 1.487126069)):
            Circle(SKETCH6_R)
        with Locations((14.670467636, 17.329722527)):
            Circle(SKETCH6_R)
        with Locations((14.670467636, 1.487126069)):
            Circle(SKETCH6_R)
    extrude(amount=-CUT_EXTRUDE2_DEPTH, mode=Mode.SUBTRACT)

    # Sketch7 → Boss-Extrude5 (add)
    with BuildSketch(Plane(origin=(0, 10.070428016, 0), x_dir=(1, 0, 0), z_dir=(0, 1, 0))):
        with Locations((5.490049496, -9.5)):
            Circle(SKETCH7_R)
    extrude(amount=BOSS_EXTRUDE5_DEPTH)

    # Sketch8 → Boss-Extrude6 (add)
    with BuildSketch(Plane(origin=(0, 11.270428016, 0), x_dir=(1, 0, 0), z_dir=(0, 1, 0))):
        with Locations((5.490049496, -9.5)):
            Circle(SKETCH8_R)
    extrude(amount=BOSS_EXTRUDE6_DEPTH)

    # Sketch9 → Boss-Extrude7 (add)
    with BuildSketch(Plane(origin=(0, 8.270428016, 0), x_dir=(1, 0, 0), z_dir=(0, 1, 0))):
        with BuildLine():
            Line((-17.683412042, -6.065911172), (-17.683412042, -13.575118742))
            ThreePointArc((-17.683412042, -13.575118742), (-21.438015827, -9.820514957), (-17.683412042, -6.065911172))
        make_face()
    extrude(amount=BOSS_EXTRUDE7_DEPTH)

    # Sketch10 → Boss-Extrude8 (add)
    with BuildSketch(Plane(origin=(0, 12.070428016, 0), x_dir=(1, 0, 0), z_dir=(0, 1, 0))):
        with Locations((5.490049496, -9.5)):
            Circle(SKETCH10_R)
    extrude(amount=BOSS_EXTRUDE8_DEPTH)

    # Sketch11 → Boss-Extrude9 (add)
    with BuildSketch(Plane(origin=(0, 16.070428016, 0), x_dir=(1, 0, 0), z_dir=(0, 1, 0))):
        Polygon((5.503448723, -6.801928291), (5.263137454, -7.010319112), (5.736737319, -7.012200748), align=None)
    boss_extrude9 = extrude(amount=-BOSS_EXTRUDE9_DEPTH)

    # CirPattern2: Boss-Extrude9 ×30 about axis
    cirpattern2_axis = Axis((5.490049496, 0, 9.5), (0, 1, 0))
    for i in range(1, CIRPATTERN2_COUNT):
        add(boss_extrude9.rotate(cirpattern2_axis, i * 360 / CIRPATTERN2_COUNT))

    # Sketch12 → Cut-Extrude4 (cut)
    with BuildSketch(Plane(origin=(0, 16.070428016, 0), x_dir=(1, 0, 0), z_dir=(0, 1, 0))):
        with Locations((5.490049496, -9.5)):
            Circle(SKETCH12_R)
    extrude(amount=-CUT_EXTRUDE4_DEPTH, mode=Mode.SUBTRACT)

    # Sketch13 → Boss-Extrude10 (add, symmetric)
    with BuildSketch(Plane(origin=(0, 16.070428016, 0), x_dir=(1, 0, 0), z_dir=(0, 1, 0))):
        with Locations((5.490049496, -9.5)):
            Circle(SKETCH13_R)
    extrude(amount=BOSS_EXTRUDE10_DEPTH, both=True)


solid = part.part
